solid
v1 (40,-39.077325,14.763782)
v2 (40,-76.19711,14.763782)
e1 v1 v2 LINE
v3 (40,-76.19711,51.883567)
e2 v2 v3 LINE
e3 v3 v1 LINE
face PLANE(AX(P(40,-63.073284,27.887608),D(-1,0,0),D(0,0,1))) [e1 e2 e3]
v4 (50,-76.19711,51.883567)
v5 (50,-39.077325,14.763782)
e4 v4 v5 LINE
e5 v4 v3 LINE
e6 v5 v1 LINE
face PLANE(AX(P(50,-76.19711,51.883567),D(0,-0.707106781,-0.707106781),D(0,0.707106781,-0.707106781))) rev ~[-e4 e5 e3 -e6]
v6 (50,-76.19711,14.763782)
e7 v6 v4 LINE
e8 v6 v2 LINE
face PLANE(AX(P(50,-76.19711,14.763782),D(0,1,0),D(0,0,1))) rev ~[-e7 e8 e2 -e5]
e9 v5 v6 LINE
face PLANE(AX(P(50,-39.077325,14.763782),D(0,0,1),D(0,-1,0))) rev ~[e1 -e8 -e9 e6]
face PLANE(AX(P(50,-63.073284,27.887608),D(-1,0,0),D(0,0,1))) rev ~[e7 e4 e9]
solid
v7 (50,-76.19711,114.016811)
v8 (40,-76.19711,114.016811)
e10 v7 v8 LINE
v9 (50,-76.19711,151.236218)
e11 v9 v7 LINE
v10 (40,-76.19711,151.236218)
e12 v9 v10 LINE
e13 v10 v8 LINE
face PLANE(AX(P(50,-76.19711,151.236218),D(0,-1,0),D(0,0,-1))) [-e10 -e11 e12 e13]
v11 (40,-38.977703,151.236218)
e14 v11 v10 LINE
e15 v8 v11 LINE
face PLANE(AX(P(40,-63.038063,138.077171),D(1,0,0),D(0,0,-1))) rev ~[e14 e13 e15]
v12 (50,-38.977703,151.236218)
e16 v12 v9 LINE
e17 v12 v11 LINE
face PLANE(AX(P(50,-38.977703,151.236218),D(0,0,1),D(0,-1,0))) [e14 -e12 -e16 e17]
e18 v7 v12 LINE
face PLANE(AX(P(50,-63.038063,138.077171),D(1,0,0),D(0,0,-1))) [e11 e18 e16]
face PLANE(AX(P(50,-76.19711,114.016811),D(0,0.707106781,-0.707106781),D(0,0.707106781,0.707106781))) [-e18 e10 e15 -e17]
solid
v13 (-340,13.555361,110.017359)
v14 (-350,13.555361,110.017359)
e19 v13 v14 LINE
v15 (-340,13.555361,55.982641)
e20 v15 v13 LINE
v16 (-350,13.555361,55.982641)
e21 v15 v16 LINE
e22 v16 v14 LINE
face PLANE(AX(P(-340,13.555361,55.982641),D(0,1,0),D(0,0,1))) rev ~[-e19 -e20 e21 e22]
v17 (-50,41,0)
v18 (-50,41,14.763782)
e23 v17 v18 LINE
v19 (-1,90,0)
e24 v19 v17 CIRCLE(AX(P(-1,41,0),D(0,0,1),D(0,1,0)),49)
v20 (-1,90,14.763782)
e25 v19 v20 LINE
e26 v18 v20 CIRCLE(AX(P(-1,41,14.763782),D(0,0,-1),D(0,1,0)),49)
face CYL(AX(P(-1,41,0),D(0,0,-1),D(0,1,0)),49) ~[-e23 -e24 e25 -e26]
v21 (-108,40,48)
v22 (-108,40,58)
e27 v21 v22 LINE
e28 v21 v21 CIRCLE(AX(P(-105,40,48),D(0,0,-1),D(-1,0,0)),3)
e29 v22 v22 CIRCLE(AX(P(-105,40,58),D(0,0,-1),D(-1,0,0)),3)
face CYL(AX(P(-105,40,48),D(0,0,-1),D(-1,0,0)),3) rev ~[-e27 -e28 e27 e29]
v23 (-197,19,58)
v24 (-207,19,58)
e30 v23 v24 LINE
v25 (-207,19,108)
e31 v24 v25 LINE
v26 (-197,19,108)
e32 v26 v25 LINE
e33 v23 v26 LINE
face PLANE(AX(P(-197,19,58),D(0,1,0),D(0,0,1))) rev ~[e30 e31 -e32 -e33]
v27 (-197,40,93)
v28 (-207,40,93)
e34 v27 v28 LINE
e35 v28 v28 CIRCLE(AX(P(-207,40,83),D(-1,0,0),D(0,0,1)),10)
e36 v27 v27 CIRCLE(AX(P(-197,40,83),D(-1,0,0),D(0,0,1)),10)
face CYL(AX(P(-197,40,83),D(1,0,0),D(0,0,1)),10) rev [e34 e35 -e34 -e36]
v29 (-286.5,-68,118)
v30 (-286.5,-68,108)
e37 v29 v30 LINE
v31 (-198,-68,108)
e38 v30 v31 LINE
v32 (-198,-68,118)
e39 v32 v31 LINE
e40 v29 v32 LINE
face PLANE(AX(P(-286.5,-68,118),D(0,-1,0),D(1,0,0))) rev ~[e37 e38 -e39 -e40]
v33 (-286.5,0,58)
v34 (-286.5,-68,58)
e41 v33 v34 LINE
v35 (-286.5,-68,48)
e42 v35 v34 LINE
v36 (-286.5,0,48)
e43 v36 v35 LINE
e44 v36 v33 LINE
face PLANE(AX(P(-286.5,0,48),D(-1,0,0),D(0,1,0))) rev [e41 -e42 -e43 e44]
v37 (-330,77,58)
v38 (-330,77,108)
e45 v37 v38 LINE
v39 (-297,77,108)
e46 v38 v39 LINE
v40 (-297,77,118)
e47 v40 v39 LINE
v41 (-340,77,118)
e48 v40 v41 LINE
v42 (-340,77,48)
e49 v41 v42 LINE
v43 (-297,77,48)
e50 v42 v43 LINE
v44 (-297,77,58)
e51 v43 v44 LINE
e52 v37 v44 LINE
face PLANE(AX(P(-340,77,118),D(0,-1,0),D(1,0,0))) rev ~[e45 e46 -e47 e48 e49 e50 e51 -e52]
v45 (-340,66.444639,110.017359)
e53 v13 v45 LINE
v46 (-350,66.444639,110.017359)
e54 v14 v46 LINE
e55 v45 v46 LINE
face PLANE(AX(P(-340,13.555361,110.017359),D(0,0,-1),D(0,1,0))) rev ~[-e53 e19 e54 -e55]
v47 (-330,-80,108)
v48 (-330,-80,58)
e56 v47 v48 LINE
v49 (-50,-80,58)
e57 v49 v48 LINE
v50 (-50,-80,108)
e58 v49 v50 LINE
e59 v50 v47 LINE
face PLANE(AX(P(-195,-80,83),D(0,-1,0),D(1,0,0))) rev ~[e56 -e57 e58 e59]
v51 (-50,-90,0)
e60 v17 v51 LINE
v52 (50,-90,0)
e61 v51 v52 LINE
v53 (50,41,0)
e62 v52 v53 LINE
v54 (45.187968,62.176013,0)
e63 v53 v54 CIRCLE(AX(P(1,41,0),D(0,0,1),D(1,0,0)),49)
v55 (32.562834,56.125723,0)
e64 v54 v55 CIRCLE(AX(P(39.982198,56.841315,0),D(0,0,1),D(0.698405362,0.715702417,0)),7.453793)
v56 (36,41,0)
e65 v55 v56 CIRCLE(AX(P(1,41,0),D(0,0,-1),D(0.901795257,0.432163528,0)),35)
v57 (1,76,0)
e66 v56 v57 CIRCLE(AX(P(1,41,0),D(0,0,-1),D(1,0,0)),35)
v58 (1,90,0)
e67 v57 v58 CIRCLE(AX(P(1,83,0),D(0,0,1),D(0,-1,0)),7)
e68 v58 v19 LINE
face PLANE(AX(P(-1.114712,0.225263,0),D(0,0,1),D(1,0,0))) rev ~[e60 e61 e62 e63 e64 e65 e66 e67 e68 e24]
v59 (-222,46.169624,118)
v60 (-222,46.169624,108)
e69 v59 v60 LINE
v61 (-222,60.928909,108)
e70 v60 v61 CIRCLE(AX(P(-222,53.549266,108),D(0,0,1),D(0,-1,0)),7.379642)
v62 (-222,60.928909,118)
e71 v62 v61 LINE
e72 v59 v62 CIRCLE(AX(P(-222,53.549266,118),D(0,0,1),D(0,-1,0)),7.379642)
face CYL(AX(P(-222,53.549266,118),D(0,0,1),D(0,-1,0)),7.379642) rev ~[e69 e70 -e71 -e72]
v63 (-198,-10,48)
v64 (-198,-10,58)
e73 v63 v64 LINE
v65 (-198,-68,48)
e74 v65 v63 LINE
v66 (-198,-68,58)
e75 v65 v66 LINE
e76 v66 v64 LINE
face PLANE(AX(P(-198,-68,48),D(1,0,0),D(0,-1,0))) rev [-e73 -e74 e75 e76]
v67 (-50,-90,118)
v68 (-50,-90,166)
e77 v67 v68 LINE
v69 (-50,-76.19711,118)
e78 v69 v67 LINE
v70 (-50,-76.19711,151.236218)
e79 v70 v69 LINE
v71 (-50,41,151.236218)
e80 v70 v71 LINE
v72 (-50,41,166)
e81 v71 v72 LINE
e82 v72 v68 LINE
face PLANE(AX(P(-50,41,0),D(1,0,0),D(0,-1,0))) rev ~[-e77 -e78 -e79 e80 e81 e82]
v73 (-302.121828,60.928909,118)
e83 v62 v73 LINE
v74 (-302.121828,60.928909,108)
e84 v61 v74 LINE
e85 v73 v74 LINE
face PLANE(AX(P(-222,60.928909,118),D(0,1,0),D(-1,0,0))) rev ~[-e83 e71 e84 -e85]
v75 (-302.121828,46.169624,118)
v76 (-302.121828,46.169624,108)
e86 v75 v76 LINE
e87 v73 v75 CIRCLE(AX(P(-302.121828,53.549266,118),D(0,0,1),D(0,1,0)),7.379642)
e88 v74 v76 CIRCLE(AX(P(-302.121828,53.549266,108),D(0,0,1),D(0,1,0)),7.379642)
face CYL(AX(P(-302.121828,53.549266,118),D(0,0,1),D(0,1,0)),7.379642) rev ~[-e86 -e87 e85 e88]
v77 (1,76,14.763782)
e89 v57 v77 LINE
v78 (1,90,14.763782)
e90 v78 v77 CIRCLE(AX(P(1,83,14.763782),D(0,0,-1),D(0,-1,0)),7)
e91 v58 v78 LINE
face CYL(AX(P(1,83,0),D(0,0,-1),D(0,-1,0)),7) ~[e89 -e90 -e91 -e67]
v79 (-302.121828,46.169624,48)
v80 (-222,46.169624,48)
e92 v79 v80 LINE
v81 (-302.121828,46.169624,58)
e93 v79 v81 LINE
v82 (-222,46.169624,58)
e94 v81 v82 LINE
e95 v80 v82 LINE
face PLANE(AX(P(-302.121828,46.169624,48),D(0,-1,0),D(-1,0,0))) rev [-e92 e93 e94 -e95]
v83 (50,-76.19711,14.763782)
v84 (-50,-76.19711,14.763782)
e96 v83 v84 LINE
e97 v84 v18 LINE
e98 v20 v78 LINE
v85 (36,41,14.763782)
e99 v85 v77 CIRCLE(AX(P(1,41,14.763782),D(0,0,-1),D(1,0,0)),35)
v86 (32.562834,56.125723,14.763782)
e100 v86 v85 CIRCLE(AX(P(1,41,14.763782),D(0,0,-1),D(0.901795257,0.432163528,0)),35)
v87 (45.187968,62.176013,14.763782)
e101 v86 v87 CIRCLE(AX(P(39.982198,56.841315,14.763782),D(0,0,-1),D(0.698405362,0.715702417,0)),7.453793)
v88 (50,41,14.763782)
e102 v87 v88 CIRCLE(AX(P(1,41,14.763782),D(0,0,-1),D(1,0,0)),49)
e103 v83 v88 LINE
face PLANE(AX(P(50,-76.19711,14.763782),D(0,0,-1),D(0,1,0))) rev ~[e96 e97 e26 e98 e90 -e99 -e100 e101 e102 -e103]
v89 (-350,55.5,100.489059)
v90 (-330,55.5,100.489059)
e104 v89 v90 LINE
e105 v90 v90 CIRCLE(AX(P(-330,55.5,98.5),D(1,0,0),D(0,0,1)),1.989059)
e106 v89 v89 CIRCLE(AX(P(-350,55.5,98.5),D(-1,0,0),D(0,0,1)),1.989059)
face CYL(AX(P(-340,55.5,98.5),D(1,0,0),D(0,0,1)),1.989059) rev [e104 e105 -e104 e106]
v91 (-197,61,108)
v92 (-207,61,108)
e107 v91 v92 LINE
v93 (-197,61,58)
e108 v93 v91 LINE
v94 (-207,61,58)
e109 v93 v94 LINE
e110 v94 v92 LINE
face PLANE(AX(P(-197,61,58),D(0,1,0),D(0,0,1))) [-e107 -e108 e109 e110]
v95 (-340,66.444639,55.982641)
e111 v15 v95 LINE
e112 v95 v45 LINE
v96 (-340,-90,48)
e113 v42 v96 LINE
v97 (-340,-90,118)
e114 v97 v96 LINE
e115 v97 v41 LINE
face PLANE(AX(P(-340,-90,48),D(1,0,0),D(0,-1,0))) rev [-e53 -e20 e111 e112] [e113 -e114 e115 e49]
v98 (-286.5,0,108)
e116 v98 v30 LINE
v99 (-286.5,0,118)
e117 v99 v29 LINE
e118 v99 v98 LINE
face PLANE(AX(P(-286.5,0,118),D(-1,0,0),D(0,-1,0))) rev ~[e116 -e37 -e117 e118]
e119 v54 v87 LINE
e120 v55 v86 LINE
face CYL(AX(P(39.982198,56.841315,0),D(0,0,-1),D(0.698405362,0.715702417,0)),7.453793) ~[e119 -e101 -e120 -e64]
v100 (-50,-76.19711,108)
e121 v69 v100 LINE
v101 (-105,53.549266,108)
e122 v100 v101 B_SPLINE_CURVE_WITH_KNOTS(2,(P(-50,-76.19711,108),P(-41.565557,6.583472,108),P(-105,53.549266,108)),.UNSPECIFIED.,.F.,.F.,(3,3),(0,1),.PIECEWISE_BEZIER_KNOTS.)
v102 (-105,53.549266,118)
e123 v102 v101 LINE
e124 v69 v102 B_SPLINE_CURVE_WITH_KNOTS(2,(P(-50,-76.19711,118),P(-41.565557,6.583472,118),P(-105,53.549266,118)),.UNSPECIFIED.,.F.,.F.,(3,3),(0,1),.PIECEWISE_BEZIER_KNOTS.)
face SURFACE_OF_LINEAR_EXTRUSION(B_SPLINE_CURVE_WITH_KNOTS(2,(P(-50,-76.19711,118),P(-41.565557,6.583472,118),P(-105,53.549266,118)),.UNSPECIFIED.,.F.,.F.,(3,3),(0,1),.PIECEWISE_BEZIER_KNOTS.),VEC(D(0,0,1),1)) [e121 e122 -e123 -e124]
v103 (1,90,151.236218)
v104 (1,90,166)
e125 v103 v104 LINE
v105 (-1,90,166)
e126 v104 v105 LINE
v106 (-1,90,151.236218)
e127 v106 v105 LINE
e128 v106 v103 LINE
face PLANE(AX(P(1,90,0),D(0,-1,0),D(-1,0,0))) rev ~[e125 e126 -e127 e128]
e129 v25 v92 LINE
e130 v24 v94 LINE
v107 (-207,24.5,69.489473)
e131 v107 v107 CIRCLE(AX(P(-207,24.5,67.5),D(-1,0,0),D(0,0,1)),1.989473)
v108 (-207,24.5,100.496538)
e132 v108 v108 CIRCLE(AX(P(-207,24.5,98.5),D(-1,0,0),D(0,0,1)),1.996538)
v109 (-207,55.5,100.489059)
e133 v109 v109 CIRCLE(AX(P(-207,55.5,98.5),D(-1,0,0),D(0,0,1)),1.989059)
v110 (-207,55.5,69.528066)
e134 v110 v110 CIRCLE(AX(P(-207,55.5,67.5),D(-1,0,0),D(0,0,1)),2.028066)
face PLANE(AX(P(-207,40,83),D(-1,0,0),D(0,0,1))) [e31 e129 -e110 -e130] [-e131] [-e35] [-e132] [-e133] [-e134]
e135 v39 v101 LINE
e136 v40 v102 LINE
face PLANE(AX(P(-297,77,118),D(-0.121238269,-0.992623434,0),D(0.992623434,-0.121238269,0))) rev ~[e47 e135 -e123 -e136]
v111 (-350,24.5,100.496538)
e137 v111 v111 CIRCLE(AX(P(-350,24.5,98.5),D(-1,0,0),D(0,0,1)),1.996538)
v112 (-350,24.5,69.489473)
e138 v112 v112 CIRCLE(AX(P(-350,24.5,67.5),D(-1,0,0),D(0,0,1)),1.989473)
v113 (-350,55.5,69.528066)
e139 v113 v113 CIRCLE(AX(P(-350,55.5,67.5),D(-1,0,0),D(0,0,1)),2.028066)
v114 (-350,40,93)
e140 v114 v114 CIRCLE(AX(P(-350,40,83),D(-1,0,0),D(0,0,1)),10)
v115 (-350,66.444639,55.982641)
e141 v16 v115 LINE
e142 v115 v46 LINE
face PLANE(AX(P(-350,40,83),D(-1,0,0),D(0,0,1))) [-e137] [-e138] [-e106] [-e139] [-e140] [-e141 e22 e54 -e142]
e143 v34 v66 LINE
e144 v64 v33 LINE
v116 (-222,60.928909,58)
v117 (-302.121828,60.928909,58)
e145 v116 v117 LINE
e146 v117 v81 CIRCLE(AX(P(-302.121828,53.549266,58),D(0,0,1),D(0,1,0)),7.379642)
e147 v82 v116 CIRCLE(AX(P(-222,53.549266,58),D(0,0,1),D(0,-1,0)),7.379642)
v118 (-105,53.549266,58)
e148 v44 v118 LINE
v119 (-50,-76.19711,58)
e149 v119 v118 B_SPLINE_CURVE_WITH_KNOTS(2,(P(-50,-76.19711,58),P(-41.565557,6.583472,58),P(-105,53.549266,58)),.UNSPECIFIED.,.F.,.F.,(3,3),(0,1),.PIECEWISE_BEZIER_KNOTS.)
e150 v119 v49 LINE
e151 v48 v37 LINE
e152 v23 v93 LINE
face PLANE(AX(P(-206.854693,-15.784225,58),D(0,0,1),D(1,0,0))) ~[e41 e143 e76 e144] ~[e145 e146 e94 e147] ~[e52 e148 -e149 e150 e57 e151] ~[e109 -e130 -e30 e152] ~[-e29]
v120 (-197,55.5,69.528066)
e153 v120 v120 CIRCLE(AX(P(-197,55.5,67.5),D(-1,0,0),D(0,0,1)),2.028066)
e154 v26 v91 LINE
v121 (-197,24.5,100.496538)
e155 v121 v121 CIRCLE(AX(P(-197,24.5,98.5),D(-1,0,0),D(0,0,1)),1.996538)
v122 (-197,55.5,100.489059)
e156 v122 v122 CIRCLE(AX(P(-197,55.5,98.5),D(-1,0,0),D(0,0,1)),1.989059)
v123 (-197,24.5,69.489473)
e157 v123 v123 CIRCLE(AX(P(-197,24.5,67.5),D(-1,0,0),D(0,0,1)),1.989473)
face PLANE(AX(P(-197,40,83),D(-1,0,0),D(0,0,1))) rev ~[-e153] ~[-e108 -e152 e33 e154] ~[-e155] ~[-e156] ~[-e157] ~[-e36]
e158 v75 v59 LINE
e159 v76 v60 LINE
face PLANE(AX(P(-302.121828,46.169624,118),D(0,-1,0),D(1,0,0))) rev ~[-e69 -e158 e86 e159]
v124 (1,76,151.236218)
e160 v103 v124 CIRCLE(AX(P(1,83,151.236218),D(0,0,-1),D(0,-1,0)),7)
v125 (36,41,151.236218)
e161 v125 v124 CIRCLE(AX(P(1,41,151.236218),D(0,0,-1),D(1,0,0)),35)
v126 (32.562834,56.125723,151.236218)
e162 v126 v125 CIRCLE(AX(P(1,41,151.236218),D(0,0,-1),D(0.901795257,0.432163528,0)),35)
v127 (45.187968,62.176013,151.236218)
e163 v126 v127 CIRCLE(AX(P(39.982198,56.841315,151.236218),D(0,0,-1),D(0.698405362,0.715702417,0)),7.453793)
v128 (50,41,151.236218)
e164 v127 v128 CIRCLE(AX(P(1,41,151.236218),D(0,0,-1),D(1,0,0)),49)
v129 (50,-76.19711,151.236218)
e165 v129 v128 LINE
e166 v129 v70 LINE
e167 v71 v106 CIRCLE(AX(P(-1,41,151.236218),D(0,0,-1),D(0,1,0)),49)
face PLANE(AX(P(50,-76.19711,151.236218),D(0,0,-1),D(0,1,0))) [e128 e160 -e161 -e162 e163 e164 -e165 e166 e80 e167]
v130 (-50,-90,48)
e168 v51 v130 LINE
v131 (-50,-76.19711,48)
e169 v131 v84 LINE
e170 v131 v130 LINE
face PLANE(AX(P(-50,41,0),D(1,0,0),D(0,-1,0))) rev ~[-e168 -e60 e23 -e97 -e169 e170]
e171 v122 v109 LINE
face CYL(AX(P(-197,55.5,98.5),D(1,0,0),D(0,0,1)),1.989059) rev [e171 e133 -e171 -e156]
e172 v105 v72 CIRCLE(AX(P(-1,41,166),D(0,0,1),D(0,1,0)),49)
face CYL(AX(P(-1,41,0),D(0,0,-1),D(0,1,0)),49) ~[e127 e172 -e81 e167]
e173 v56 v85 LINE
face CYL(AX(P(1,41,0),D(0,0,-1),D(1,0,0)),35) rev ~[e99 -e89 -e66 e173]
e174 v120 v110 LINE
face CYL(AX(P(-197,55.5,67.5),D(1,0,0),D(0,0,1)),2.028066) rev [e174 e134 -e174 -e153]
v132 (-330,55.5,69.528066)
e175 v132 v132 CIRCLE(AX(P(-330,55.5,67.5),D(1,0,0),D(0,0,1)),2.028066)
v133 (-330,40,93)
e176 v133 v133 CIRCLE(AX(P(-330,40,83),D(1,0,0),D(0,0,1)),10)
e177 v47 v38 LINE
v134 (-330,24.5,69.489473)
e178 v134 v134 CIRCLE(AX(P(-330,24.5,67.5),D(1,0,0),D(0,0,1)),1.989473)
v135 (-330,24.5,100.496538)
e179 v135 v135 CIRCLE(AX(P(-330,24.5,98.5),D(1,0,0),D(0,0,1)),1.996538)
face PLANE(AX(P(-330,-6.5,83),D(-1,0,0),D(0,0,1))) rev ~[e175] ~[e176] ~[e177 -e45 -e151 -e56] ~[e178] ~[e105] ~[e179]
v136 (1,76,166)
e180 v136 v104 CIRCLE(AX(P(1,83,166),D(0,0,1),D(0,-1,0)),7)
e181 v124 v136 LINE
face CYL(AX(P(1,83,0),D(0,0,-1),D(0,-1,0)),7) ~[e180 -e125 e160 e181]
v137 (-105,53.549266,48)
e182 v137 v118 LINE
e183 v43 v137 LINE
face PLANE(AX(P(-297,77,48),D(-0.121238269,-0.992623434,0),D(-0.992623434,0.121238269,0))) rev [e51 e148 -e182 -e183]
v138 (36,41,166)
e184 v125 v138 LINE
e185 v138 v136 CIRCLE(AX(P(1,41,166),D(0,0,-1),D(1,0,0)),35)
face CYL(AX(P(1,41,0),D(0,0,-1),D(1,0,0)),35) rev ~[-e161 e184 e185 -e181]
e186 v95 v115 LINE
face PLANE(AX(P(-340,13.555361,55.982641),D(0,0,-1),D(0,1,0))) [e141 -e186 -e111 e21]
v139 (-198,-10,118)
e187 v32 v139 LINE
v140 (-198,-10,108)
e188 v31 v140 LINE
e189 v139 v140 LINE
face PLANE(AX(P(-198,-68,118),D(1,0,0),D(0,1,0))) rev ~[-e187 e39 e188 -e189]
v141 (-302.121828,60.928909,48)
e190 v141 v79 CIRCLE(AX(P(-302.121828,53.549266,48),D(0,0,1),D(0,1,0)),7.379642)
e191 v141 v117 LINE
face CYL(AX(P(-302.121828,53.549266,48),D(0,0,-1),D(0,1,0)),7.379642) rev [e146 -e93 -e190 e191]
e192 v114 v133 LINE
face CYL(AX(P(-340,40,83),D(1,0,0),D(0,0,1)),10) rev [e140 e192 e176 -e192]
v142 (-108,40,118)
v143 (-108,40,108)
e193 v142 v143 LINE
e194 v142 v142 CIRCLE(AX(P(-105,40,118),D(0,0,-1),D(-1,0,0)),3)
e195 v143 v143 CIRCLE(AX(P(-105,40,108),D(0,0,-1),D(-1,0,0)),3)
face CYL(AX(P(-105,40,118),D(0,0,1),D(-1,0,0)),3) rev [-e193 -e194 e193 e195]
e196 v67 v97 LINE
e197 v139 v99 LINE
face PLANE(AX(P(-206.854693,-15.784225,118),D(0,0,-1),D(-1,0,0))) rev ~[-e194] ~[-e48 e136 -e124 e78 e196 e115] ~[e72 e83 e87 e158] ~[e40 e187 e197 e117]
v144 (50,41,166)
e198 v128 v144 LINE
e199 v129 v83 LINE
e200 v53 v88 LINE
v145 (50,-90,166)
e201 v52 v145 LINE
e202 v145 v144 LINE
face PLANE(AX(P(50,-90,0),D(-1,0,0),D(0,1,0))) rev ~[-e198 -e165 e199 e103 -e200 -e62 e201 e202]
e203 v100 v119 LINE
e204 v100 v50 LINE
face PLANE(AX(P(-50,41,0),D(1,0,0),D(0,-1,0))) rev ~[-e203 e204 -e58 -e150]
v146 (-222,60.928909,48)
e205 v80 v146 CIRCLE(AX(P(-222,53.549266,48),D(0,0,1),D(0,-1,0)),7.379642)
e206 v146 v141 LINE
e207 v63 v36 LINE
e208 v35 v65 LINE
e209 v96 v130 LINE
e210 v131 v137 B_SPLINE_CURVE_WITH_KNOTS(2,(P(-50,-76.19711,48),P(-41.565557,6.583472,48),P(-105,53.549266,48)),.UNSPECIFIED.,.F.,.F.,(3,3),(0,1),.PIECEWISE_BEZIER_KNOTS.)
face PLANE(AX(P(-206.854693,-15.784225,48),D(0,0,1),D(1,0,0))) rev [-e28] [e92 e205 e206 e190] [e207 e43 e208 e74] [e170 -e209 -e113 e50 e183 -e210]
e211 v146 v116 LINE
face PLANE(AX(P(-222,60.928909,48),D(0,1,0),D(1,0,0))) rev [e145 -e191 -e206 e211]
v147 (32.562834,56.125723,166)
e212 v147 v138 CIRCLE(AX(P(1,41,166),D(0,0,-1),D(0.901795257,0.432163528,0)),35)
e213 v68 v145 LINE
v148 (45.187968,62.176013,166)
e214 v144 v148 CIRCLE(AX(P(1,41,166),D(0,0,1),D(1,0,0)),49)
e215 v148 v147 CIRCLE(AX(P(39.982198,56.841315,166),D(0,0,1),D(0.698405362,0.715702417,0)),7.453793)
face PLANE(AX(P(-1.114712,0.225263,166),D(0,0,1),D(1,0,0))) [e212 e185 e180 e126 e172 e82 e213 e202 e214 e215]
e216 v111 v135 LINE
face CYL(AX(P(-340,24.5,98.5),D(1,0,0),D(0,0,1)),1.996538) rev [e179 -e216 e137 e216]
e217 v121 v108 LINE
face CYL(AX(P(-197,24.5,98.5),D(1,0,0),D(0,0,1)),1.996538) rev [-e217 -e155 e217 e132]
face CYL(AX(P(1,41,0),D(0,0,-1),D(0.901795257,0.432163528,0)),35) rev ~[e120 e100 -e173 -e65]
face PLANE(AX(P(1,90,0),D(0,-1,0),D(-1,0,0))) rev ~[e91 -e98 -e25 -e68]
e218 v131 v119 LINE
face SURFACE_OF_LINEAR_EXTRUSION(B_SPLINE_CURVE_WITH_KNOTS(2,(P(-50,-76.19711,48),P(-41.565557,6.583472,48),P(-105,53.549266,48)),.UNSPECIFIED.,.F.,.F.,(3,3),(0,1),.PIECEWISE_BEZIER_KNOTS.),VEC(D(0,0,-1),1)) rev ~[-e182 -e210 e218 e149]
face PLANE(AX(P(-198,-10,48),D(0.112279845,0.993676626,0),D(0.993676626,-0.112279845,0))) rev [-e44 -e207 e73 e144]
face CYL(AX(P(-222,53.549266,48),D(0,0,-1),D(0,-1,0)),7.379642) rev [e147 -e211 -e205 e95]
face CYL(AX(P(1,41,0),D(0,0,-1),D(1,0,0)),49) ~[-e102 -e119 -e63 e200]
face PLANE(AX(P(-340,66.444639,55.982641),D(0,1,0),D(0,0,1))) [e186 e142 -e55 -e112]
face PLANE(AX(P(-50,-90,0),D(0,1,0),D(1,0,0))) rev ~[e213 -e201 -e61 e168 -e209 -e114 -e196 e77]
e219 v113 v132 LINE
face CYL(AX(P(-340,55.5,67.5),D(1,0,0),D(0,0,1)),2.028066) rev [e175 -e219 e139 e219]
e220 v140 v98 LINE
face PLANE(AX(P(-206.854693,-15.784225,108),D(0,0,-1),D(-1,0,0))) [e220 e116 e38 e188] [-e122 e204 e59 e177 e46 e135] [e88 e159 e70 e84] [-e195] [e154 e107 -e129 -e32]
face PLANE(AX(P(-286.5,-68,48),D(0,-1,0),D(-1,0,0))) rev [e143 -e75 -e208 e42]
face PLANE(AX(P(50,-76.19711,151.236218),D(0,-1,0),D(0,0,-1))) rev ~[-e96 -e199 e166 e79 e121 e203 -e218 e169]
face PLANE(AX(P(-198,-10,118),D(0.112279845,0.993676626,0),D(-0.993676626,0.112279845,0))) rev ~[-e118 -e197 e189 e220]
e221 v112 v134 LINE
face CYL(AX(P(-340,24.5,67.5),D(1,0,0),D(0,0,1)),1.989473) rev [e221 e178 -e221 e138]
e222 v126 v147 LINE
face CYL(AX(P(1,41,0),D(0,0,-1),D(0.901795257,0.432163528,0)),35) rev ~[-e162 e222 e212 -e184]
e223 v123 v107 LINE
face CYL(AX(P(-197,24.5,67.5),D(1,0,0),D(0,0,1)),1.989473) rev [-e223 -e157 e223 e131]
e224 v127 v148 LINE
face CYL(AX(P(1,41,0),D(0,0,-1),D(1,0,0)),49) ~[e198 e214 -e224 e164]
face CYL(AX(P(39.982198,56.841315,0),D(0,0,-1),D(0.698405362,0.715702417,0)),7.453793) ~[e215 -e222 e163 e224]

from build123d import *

# Parameters (mm, degrees)
SALIENTE_EXTRUIR1_DEPTH   = 166
CROQUIS2_W                = 136.472436182
CROQUIS2_H                = 332.394220402
CORTAR_EXTRUIR1_DEPTH     = 214.672646822
CROQUIS3_R                = 3
SALIENTE_EXTRUIR2_DEPTH   = 10
CROQUIS4_W                = 290
CROQUIS4_H                = 70
SALIENTE_EXTRUIR4_DEPTH   = 10
CROQUIS5_W                = 70
CROQUIS5_H                = 167
SALIENTE_EXTRUIR5_DEPTH   = 10
SALIENTE_EXTRUIR6_DEPTH   = 10
SALIENTE_EXTRUIR6_2_DEPTH = 10
CROQUIS7_W                = 50
CROQUIS7_H                = 42
CROQUIS7_R                = 10
CROQUIS7_R_2              = 2.028066214
CROQUIS7_R_3              = 1.989058601
CROQUIS7_R_4              = 1.996538367
CROQUIS7_R_5              = 1.989473388
SALIENTE_EXTRUIR7_DEPTH   = 10
CROQUIS8_R                = 1.996538367
CROQUIS8_R_2              = 1.989473388
CROQUIS8_R_3              = 2.028066214
CROQUIS8_R_4              = 1.989058601
CROQUIS8_R_5              = 10
CORTAR_EXTRUIR2_DEPTH     = 425.330060234
CROQUIS9_W                = 54.034718828
CROQUIS9_H                = 52.889277074
CROQUIS9_R                = 2.028066214
CROQUIS9_R_2              = 10
CROQUIS9_R_3              = 1.996538367
CROQUIS9_R_4              = 1.989058601
CROQUIS9_R_5              = 1.989473388
SALIENTE_EXTRUIR8_DEPTH   = 10


with BuildPart() as part:
    # Croquis1 → Saliente-Extruir1 (new body)
    with BuildSketch(Plane.XY):
        with BuildLine():
            Line((-50, -90), (50, -90))
            Line((50, -90), (50, 41))
            ThreePointArc((50, 41), (48.781850172, 51.857936921), (45.187967584, 62.176012863))
            ThreePointArc((45.187967584, 62.176012863), (36.760940571, 63.563110457), (32.562833989, 56.125723473))
            ThreePointArc((32.562833989, 56.125723473), (35.12989298, 48.755669229), (36, 41))
            ThreePointArc((36, 41), (-23.748737342, 16.251262658), (1, 76))
            ThreePointArc((1, 76), (8, 83), (1, 90))
            Line((1, 90), (-1, 90))
            ThreePointArc((-1, 90), (-35.648232278, 75.648232278), (-50, 41))
            Line((-50, 41), (-50, -90))
        make_face()
    extrude(amount=SALIENTE_EXTRUIR1_DEPTH)

    # Croquis2 → Cortar-Extruir1 (cut, through all)
    with BuildSketch(Plane(origin=(50, 0, 0), x_dir=(0, 0, -1), z_dir=(1, 0, 0))):
        with Locations((-83, 90)):
            Rectangle(CROQUIS2_W, CROQUIS2_H)
    extrude(amount=-CORTAR_EXTRUIR1_DEPTH, mode=Mode.SUBTRACT)

    # Croquis3 → Saliente-Extruir2 (add)
    with BuildSketch(Plane(origin=(0, 0, 118), x_dir=(-1, 0, 0), z_dir=(0, 0, -1))):
        with BuildLine():
            Line((340, 77), (297, 77))
            Line((297, 77), (105, 53.549266443))
            add(Edge.make_bspline(
                [(50, -76.197110201), (41.565556501, 6.583471604), (105, 53.549266443)],
                knots=[0, 0, 0, 1, 1, 1], degree=2))
            Line((50, -76.197110201), (50, -90))
            Line((50, -90), (297, -90))
            Line((297, -90), (340, -90))
            Line((340, -90), (340, 35))
            Line((340, 35), (340, 77))
        make_face()
        Polygon((198, -68), (198, -10), (286.5, 0), (286.5, -10), (286.5, -68), align=None, mode=Mode.SUBTRACT)
        with Locations((105, 40)):
            Circle(CROQUIS3_R, mode=Mode.SUBTRACT)
        with BuildLine():
            ThreePointArc((222, 46.169624348), (214.620357905, 53.549266443), (222, 60.928908538))
            Line((222, 60.928908538), (302.121828461, 60.928908538))
            ThreePointArc((302.121828461, 60.928908538), (309.501470556, 53.549266443), (302.121828461, 46.169624348))
            Line((302.121828461, 46.169624348), (222, 46.169624348))
        make_face(mode=Mode.SUBTRACT)
    saliente_extruir2 = extrude(amount=SALIENTE_EXTRUIR2_DEPTH)

    # Simetría1: Saliente-Extruir2 across plane
    add(saliente_extruir2.mirror(Plane(origin=(0, 0, 83), x_dir=(1, 0, 0), z_dir=(0, 0, -1))))

    # Croquis4 → Saliente-Extruir4 (add)
    with BuildSketch(Plane.XZ.offset(90)):
        with Locations((-195, 83)):
            Rectangle(CROQUIS4_W, CROQUIS4_H)
    extrude(amount=-SALIENTE_EXTRUIR4_DEPTH)

    # Croquis5 → Saliente-Extruir5 (add)
    with BuildSketch(Plane.ZY.offset(340)):
        with Locations((83, -6.5)):
            Rectangle(CROQUIS5_W, CROQUIS5_H)
    extrude(amount=-SALIENTE_EXTRUIR5_DEPTH)

    # Croquis7 → Saliente-Extruir7 (add)
    with BuildSketch(Plane.ZY.offset(197)):
        with Locations((83, 40)):
            Rectangle(CROQUIS7_W, CROQUIS7_H)
        with Locations((83, 40)):
            Circle(CROQUIS7_R, mode=Mode.SUBTRACT)
        with Locations((67.5, 55.5)):
            Circle(CROQUIS7_R_2, mode=Mode.SUBTRACT)
        with Locations((98.5, 55.5)):
            Circle(CROQUIS7_R_3, mode=Mode.SUBTRACT)
        with Locations((98.5, 24.5)):
            Circle(CROQUIS7_R_4, mode=Mode.SUBTRACT)
        with Locations((67.5, 24.5)):
            Circle(CROQUIS7_R_5, mode=Mode.SUBTRACT)
    extrude(amount=SALIENTE_EXTRUIR7_DEPTH)

    # Croquis8 → Cortar-Extruir2 (cut, through all)
    with BuildSketch(Plane(origin=(-330, 0, 0), x_dir=(0, 0, -1), z_dir=(1, 0, 0))):
        with Locations(Location((-98.5, 24.5, 0), (0, 0, 180))):
            Circle(CROQUIS8_R)
        with Locations(Location((-67.5, 24.5, 0), (0, 0, 180))):
            Circle(CROQUIS8_R_2)
        with Locations(Location((-67.5, 55.5, 0), (0, 0, 180))):
            Circle(CROQUIS8_R_3)
        with Locations(Location((-98.5, 55.5, 0), (0, 0, 180))):
            Circle(CROQUIS8_R_4)
        with Locations(Location((-83, 40, 0), (0, 0, 180))):
            Circle(CROQUIS8_R_5)
    extrude(amount=-CORTAR_EXTRUIR2_DEPTH, mode=Mode.SUBTRACT)

    # Croquis9 → Saliente-Extruir8 (add)
    with BuildSketch(Plane.ZY.offset(340)):
        with Locations((83, 40)):
            Rectangle(CROQUIS9_W, CROQUIS9_H)
        with Locations((67.5, 55.5)):
            Circle(CROQUIS9_R, mode=Mode.SUBTRACT)
        with Locations((83, 40)):
            Circle(CROQUIS9_R_2, mode=Mode.SUBTRACT)
        with Locations((98.5, 24.5)):
            Circle(CROQUIS9_R_3, mode=Mode.SUBTRACT)
        with Locations((98.5, 55.5)):
            Circle(CROQUIS9_R_4, mode=Mode.SUBTRACT)
        with Locations((67.5, 24.5)):
            Circle(CROQUIS9_R_5, mode=Mode.SUBTRACT)
    extrude(amount=SALIENTE_EXTRUIR8_DEPTH)


with BuildPart() as body_2:
    # Croquis6 → Saliente-Extruir6 (new body)
    with BuildSketch(Plane(origin=(50, 0, 0), x_dir=(0, 0, -1), z_dir=(1, 0, 0))):
        Polygon((-151.236218091, -76.197110201), (-114.016811226, -76.197110201), (-151.236218091, -38.977703336), align=None)
    extrude(amount=-SALIENTE_EXTRUIR6_DEPTH)


with BuildPart() as body_3:
    # Croquis6 → Saliente-Extruir6 2 (new body)
    with BuildSketch(Plane(origin=(50, 0, 0), x_dir=(0, 0, -1), z_dir=(1, 0, 0))):
        Polygon((-14.763781909, -76.197110201), (-51.883567475, -76.197110201), (-14.763781909, -39.077324636), align=None)
    extrude(amount=-SALIENTE_EXTRUIR6_2_DEPTH)


solid = Compound([part.part, body_2.part, body_3.part])
